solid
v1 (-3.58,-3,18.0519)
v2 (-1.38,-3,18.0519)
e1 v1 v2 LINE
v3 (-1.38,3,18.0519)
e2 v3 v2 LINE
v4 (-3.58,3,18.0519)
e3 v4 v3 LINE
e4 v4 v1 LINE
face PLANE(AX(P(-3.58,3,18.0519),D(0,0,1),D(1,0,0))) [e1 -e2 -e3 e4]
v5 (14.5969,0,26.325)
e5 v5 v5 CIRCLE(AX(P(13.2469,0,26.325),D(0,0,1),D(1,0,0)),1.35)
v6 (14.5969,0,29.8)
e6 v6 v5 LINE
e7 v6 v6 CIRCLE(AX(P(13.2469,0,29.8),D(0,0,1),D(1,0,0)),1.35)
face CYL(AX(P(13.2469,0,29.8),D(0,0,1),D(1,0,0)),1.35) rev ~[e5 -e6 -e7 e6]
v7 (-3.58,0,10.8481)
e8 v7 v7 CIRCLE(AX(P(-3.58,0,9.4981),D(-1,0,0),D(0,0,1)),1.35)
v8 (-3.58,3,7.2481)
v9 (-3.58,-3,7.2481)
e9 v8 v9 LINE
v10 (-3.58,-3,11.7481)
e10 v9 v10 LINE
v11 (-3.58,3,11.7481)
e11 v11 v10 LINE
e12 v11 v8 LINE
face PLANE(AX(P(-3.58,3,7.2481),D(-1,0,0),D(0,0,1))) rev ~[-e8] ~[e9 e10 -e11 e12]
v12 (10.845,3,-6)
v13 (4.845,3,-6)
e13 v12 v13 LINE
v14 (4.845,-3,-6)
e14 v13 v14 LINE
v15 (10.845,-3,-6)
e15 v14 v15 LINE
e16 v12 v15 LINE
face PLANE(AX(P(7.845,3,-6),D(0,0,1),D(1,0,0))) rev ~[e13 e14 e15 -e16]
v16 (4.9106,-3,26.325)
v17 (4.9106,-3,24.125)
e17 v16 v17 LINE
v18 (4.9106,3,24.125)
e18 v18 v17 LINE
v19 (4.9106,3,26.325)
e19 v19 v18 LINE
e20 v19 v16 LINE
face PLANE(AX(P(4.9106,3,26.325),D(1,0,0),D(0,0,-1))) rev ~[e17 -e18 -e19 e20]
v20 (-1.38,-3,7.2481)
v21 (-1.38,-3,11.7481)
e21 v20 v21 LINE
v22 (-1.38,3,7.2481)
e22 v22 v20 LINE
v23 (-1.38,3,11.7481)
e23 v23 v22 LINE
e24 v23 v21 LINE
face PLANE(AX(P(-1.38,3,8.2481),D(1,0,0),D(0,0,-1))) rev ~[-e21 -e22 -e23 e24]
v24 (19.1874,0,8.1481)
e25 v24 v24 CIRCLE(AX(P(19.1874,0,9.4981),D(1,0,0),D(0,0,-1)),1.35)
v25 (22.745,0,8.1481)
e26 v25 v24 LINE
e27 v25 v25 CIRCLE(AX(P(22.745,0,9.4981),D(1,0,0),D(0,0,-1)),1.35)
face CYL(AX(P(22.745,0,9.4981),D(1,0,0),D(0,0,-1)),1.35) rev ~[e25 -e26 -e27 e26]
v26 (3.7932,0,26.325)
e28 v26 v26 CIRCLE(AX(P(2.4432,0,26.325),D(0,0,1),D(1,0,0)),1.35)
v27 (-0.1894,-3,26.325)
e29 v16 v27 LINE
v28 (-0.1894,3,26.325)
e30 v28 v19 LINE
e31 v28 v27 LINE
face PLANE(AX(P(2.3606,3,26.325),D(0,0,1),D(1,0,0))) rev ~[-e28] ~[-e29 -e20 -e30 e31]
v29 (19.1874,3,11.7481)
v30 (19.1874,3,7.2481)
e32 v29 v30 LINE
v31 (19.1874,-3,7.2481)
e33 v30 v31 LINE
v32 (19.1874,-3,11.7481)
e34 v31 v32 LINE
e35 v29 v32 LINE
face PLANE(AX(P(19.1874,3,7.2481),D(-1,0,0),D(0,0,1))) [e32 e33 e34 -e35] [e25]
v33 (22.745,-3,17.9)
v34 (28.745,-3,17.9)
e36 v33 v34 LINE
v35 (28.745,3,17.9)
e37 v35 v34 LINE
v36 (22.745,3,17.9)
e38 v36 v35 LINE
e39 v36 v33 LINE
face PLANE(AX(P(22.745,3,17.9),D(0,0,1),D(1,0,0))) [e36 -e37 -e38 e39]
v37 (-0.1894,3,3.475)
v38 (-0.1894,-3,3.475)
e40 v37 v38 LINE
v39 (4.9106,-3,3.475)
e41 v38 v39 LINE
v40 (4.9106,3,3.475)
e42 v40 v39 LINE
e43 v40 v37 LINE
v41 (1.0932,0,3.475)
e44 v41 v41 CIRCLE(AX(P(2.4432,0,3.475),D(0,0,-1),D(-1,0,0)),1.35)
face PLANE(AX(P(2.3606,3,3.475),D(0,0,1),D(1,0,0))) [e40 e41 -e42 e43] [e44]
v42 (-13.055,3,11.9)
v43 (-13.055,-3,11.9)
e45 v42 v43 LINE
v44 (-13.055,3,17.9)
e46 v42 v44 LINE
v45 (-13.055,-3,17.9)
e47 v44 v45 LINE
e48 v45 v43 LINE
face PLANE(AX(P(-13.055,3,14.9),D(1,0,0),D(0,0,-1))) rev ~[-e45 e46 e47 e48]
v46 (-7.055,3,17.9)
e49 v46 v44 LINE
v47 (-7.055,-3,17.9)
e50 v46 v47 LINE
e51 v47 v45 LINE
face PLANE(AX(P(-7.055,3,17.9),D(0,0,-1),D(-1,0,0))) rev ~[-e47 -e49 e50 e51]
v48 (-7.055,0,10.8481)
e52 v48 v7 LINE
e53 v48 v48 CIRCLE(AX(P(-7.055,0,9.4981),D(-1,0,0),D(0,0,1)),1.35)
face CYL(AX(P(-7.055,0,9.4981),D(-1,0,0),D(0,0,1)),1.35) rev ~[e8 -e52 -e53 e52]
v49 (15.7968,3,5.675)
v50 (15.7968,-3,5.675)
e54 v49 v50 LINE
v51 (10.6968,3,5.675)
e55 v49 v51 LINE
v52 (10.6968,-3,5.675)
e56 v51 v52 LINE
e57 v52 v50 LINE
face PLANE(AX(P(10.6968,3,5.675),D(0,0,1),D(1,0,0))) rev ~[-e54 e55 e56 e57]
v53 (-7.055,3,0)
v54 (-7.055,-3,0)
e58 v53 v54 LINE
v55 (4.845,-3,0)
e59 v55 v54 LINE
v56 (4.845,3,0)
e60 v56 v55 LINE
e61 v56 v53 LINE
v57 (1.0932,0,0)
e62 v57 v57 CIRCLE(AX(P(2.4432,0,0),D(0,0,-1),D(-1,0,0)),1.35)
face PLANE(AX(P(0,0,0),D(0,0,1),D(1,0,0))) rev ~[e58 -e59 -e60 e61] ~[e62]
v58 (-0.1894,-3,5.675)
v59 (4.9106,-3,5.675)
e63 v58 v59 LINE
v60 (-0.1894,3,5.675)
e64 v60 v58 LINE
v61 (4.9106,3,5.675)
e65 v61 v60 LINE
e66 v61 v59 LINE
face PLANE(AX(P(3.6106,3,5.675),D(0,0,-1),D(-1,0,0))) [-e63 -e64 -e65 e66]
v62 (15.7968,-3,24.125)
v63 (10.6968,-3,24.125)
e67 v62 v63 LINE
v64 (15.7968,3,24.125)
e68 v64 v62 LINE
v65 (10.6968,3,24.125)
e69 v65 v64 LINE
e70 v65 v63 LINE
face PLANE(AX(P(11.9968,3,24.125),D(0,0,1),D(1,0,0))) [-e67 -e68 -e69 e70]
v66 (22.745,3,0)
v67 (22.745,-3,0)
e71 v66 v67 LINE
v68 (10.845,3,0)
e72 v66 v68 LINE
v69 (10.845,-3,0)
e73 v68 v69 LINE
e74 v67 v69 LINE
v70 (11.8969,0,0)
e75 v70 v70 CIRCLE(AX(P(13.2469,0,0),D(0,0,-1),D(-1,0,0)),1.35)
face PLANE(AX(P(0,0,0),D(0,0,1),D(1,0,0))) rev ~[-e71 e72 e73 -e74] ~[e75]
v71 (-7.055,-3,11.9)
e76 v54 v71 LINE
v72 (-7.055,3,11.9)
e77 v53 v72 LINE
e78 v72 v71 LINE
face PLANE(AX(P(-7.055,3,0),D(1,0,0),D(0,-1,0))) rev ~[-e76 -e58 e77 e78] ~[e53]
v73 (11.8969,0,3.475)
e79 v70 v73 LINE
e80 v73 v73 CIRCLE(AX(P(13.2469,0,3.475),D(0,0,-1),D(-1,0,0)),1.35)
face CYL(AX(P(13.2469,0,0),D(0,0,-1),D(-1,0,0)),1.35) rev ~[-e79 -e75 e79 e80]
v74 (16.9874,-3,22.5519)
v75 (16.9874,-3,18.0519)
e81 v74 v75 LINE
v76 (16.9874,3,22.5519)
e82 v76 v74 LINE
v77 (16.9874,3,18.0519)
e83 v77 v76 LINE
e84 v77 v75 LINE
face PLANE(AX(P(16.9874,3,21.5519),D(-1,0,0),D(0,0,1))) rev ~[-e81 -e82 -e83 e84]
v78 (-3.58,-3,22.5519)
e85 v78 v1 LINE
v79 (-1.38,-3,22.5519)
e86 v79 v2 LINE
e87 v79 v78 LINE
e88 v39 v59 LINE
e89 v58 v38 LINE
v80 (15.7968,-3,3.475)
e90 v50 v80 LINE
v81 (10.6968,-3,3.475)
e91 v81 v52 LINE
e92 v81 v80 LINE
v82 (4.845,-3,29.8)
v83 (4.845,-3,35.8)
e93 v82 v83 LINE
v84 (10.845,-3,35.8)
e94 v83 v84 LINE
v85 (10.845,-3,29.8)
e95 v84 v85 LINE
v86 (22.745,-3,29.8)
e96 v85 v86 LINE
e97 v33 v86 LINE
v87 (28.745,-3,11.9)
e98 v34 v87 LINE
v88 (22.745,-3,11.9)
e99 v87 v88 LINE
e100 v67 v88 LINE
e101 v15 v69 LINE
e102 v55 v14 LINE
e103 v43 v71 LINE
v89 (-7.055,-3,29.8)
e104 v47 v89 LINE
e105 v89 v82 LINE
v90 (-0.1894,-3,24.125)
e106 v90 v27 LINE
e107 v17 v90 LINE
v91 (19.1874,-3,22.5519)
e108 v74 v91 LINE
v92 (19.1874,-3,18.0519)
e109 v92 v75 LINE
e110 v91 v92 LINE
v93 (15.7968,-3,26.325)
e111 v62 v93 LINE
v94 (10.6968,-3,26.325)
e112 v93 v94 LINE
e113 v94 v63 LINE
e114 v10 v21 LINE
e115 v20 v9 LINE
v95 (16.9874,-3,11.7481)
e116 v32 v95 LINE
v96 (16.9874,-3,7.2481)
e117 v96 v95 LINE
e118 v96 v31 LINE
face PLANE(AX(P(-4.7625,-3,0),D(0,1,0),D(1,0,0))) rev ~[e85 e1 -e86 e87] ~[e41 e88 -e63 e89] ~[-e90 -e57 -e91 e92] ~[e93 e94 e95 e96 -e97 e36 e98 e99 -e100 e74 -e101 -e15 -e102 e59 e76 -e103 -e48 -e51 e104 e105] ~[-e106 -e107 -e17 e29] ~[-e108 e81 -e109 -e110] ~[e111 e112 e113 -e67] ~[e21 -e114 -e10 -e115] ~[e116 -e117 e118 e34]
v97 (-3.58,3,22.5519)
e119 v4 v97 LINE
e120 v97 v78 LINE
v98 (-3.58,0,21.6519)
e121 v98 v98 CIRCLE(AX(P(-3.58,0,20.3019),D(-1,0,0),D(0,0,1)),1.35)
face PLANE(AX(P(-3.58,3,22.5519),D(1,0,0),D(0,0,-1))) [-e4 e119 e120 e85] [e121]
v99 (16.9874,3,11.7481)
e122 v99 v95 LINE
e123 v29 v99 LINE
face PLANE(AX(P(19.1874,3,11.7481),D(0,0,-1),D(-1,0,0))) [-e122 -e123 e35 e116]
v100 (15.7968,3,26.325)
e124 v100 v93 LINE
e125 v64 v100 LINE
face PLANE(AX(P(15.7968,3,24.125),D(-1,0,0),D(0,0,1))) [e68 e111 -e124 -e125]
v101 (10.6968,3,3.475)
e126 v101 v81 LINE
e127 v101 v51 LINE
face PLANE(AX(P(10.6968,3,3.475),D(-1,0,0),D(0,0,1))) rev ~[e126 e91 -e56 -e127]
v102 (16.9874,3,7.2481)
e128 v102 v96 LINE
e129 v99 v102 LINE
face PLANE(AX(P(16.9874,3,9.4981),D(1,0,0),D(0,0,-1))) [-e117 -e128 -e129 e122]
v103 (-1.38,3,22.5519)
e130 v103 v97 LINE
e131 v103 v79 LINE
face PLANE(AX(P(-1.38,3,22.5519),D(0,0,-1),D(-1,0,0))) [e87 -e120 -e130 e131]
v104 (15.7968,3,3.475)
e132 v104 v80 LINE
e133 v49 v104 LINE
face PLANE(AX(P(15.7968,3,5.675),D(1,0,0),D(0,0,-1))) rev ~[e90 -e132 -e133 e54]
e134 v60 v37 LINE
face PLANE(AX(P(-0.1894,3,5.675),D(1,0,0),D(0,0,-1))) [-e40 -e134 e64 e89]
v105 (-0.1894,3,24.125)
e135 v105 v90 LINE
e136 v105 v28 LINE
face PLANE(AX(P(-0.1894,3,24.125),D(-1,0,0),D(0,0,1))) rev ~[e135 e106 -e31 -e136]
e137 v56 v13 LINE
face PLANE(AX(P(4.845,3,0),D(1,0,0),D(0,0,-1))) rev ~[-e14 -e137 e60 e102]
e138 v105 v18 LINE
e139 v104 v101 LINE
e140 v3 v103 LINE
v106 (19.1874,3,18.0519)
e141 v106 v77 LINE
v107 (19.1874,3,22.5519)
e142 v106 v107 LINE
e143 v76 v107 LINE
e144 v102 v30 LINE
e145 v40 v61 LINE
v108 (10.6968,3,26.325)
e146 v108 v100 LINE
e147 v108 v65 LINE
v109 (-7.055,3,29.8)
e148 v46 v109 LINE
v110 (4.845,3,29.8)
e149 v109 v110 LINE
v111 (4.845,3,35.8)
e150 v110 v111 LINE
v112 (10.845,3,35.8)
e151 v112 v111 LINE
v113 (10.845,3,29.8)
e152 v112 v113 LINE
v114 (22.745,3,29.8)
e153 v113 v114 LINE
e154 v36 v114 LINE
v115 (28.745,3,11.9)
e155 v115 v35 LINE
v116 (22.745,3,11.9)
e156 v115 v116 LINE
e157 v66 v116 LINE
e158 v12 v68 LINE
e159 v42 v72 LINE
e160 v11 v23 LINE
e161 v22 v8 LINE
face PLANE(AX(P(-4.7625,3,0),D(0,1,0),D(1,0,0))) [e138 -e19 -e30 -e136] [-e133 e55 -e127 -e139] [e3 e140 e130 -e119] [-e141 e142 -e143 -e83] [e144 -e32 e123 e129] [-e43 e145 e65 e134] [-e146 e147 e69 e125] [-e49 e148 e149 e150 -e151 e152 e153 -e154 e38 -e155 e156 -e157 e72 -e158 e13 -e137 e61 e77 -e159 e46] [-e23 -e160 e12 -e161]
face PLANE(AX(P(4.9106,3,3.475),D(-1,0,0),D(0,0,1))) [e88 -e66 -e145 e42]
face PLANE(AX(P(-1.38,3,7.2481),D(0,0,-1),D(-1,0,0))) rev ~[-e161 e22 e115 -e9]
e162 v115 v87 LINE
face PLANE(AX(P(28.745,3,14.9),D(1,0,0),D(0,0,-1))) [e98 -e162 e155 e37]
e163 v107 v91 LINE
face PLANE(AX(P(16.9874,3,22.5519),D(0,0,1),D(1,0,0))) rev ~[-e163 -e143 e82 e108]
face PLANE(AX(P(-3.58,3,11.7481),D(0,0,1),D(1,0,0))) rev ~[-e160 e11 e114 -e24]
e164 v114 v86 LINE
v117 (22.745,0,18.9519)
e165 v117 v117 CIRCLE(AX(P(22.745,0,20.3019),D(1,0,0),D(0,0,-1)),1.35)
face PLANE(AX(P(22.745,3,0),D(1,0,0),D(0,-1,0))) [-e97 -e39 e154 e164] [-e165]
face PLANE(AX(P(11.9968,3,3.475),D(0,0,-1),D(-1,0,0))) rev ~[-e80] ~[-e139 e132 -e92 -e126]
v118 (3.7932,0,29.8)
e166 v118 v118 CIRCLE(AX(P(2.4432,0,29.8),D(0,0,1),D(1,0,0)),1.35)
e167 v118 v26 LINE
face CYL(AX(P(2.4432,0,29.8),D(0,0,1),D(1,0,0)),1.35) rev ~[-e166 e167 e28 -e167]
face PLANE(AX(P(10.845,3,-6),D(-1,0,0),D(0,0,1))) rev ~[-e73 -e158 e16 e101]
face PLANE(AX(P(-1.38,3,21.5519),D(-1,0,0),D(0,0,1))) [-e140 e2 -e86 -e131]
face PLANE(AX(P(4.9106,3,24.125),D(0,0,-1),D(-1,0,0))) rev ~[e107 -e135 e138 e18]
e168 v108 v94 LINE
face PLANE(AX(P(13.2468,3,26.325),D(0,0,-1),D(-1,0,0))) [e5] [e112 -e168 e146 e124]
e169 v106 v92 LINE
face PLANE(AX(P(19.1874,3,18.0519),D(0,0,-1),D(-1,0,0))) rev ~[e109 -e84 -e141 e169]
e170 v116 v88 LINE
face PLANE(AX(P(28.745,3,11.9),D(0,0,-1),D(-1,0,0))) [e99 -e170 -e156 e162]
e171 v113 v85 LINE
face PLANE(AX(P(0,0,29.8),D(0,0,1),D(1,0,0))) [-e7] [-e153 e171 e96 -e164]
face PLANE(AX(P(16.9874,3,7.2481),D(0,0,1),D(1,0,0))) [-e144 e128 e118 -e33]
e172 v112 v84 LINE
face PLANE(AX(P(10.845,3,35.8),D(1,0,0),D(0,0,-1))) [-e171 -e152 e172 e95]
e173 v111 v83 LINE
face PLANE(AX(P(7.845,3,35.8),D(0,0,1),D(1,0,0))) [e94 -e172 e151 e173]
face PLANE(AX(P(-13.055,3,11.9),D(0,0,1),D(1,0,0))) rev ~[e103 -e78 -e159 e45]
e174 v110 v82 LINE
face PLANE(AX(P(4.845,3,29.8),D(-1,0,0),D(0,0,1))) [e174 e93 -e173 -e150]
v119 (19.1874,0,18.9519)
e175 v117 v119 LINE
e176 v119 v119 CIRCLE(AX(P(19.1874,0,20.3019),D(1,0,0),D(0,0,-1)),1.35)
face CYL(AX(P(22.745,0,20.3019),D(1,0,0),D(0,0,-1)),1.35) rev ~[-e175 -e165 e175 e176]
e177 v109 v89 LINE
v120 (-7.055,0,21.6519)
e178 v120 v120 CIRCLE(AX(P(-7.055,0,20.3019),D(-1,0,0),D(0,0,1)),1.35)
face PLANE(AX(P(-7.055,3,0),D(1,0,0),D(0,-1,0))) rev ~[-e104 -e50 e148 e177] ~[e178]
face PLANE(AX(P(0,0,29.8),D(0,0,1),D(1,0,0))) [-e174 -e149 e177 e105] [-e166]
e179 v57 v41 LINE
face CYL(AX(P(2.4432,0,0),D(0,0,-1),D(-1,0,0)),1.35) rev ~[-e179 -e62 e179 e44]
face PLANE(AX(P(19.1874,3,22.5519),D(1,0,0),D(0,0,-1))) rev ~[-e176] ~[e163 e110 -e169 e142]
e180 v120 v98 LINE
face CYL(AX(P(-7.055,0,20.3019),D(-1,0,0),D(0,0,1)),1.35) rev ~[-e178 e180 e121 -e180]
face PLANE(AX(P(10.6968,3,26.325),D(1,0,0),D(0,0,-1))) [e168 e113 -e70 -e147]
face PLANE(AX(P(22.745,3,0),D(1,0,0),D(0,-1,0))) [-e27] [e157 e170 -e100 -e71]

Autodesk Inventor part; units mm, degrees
ref_plane "YZ Plane" through (0, 0, 0) normal (1, 0, 0) x (0, 1, 0)
ref_plane "XZ Plane" through (0, 0, 0) normal (0, 1, 0) x (-1, 0, 0)
sketch "스케치1" plane through (0, 0, 0) normal (0, 0, 1) x (1, 0, 0)
  arc A0 (-4.555, 20.4) -> (-1.5118, 17.2038) centre (-1.355, 20.4) ccw projected
  line L0 (-4.555, 20.4) -> (-4.555, 29.4) projected
  line L1 (-4.555, 29.4) -> (-9.955, 29.4) projected
  line L2 (-9.955, 29.4) -> (-9.955, 17.8) projected
  line L3 (-9.955, 17.8) -> (-4.855, 11.8) projected
  line L4 (-4.855, 11.8) -> (-4.7625, 11.8) projected
  line L5 (-4.7625, 11.8) -> (-4.7625, -3) projected
  line L6 (-4.7625, -3) -> (3.7037, -3) projected
  arc A1 (4.7037, -2) -> (3.7037, -3) centre (4.7037, -3) ccw projected
  line L7 (4.7037, -2) -> (4.7037, 2.1) projected
  arc A2 (5.6987, 3) -> (4.7037, 2.1) centre (4.7037, 3.1) ccw projected
  line L8 (5.6987, 3) -> (9.9088, 3) projected
  arc A3 (10.9037, 2.1) -> (9.9088, 3) centre (10.9037, 3.1) ccw projected
  line L9 (10.9037, 2.1) -> (10.9037, -2) projected
  arc A4 (11.9037, -3) -> (10.9037, -2) centre (10.9037, -3) ccw projected
  line L10 (11.9037, -3) -> (20.4525, -3) projected
  line L11 (20.4525, -3) -> (20.4525, 11.8) projected
  line L12 (20.4525, 11.8) -> (20.545, 11.8) projected
  line L13 (20.545, 11.8) -> (25.645, 17.8) projected
  line L14 (25.645, 17.8) -> (25.645, 29.4) projected
  line L15 (25.645, 29.4) -> (20.245, 29.4) projected
  line L16 (20.245, 29.4) -> (20.245, 20.4) projected
  arc A5 (17.2018, 17.2038) -> (20.245, 20.4) centre (17.045, 20.4) ccw projected
  line L17 (17.2018, 17.2038) -> (-1.5118, 17.2038) projected
  circle A6 centre (13.2469, 0) radius 1.35 projected
  circle A7 centre (2.4432, 0) radius 1.35 projected
  circle A8 centre (18.0506, 0) radius 1.35 projected
  circle A9 centre (-2.3606, 0) radius 1.35 projected
  circle A10 centre (-7.155, 20.9) radius 1.35 projected
  circle A11 centre (-0.655, 14.6) radius 1.35 projected
  circle A12 centre (16.345, 14.6) radius 1.35 projected
  circle A13 centre (22.845, 20.9) radius 1.35 projected
  line L18 (20.4525, -3) -> (-4.855, -3)
  line L19 (-4.855, -3) -> (-4.855, 3)
  line L20 (-4.855, 3) -> (20.4525, 3)
  line L21 (20.4525, 3) -> (20.4525, -3)
  line L22 (22.845, 3) -> (22.845, -11.8) projected
  line L23 (-7.155, 3) -> (-7.155, -11.8) projected
  line L24 (22.745, 3) -> (22.745, -11.8)
  line L25 (-7.055, 3) -> (-7.055, -11.8)
  line L26 (22.745, -3) -> (-7.055, -3)
  line L27 (-7.055, -3) -> (-7.055, 3)
  line L28 (-7.055, 3) -> (22.745, 3)
  line L29 (22.745, 3) -> (22.745, -3)
  point P0 (0, 0)
  point P1 (11.8625, -3)
  point P2 (20.4525, 3)
  point P3 (9.8675, 3)
  point P4 (5.6574, 3)
  point P5 (-4.7625, 3)
  point P6 (3.6625, -3)
  point P7 (-4.855, 3)
  point P8 (-7.055, -3)
  point P9 (-4.855, -3)
  point P10 (-4.7625, -3)
  point P11 (22.745, 1.2049)
  point P12 (20.4525, 3)
  point P13 (20.4525, -3)
  point P14 (11.8987, 3)
  point P15 (3.7037, -3)
  point P16 (11.9037, -3)
  point P17 (5.6987, 3)
  point P18 (3.7088, 3)
  point P19 (5.6987, 3)
  point P20 (11.9037, -3)
  point P21 (-4.7625, 3)
  point P22 (-4.855, -3)
  point P23 (10.9037, -1.792)
  point P24 (-4.7625, -3)
  point P25 (4.7037, -1.792)
  dimension "d7" = 0.1
  dimension "d8" = 0.1
extrude "돌출1" add sketch "스케치1" along normal blind 29.8 contours L20 A2 L7 A1 L6 L5 | L5 L18 L19 L20 | L19 L26 L25 L28 | L20 L8 A3 L9 A4 L18 A1 L7 A2 | L28 L24 L26 L11 | L11 L10 A4 L9 A3 L20 | A6 | A7 | A8 | A9
ref_plane "작업 평면4" through (10.8037, 3, 0) normal (0, 1, 0) x (1, 0, 0)
sketch "스케치5" plane through (10.8037, 3, 0) normal (0, 1, 0) x (1, 0, 0)
  line L0 (1.1931, -3.675) -> (1.1931, 6)
  line L1 (3.6931, -3.675) -> (3.6931, 6)
  line L2 (1.1931, -5.675) -> (3.6931, -5.675)
  line L3 (2.4431, 0) -> (2.4431, -3.675)
  line L4 (2.4431, -5.675) -> (2.4431, -4.575)
  line L5 (2.4431, -4.575) -> (2.4431, -3.475)
  line L6 (2.4431, -3.475) -> (-0.1069, -3.475)
  line L7 (2.4431, -3.475) -> (4.9931, -3.475)
  line L8 (4.9931, -3.475) -> (-0.1069, -3.475)
  line L9 (-0.1069, -3.475) -> (-0.1069, -5.675)
  line L10 (-0.1069, -5.675) -> (4.9931, -5.675)
  line L11 (4.9931, -5.675) -> (4.9931, -3.475)
  line L12 (1.1931, -5.675) -> (1.1931, 6)
  line L13 (3.6931, -5.675) -> (3.6931, 6)
  line L14 (1.1931, -5.675) -> (3.6931, -5.675)
  line L15 (2.4431, -3.675) -> (2.4431, -5.675)
  line L16 (-23.9, -14.9) -> (17.9, -14.9)
  line L17 (1.1931, -24.125) -> (3.6931, -24.125)
  line L18 (2.4431, -24.125) -> (2.4431, -25.225)
  line L19 (2.4431, -25.225) -> (2.4431, -26.325)
  line L20 (2.4431, -26.325) -> (-0.1069, -26.325)
  line L21 (2.4431, -26.325) -> (4.9931, -26.325)
  line L22 (4.9931, -26.325) -> (-0.1069, -26.325)
  line L23 (-0.1069, -26.325) -> (-0.1069, -24.125)
  line L24 (-0.1069, -24.125) -> (4.9931, -24.125)
  line L25 (4.9931, -24.125) -> (4.9931, -26.325)
  line L26 (1.1931, -24.125) -> (3.6931, -24.125)
  line L27 (2.4431, -26.125) -> (2.4431, -24.125)
  line L28 (-3, -14.9) -> (-3, -22)
  line L29 (-7.1931, -5.675) -> (-9.6931, -5.675)
  line L30 (-8.4431, -5.675) -> (-8.4431, -4.575)
  line L31 (-8.4431, -4.575) -> (-8.4431, -3.475)
  line L32 (-8.4431, -3.475) -> (-5.8931, -3.475)
  line L33 (-8.4431, -3.475) -> (-10.9931, -3.475)
  line L34 (-10.9931, -3.475) -> (-5.8931, -3.475)
  line L35 (-5.8931, -3.475) -> (-5.8931, -5.675)
  line L36 (-5.8931, -5.675) -> (-10.9931, -5.675)
  line L37 (-10.9931, -5.675) -> (-10.9931, -3.475)
  line L38 (-7.1931, -5.675) -> (-9.6931, -5.675)
  line L39 (-8.4431, -3.675) -> (-8.4431, -5.675)
  line L40 (-7.1931, -24.125) -> (-9.6931, -24.125)
  line L41 (-8.4431, -24.125) -> (-8.4431, -25.225)
  line L42 (-8.4431, -25.225) -> (-8.4431, -26.325)
  line L43 (-7.1931, -24.125) -> (-9.6931, -24.125)
  line L44 (-8.4431, -26.125) -> (-8.4431, -24.125)
  line L45 (-8.4431, -26.325) -> (-10.9931, -26.325)
  line L46 (-10.9931, -24.125) -> (-10.9931, -26.325)
  line L47 (-8.4431, -26.325) -> (-5.8931, -26.325)
  line L48 (-5.8931, -26.325) -> (-5.8931, -24.125)
  line L49 (-10.9931, -26.325) -> (-5.8931, -26.325)
  line L50 (-5.8931, -24.125) -> (-10.9931, -24.125)
  line L51 (-12.1837, -21.5519) -> (-23.8587, -21.5519)
  line L52 (-12.1837, -19.0519) -> (-23.8587, -19.0519)
  line L53 (-12.1837, -19.0519) -> (-12.1837, -21.5519)
  line L54 (-12.1837, -19.0519) -> (-14.3837, -19.0519)
  line L55 (-12.1837, -20.3019) -> (-12.1837, -18.0519)
  line L56 (-12.1837, -20.3019) -> (-12.1837, -22.5519)
  line L57 (-14.3837, -18.0519) -> (-12.1837, -18.0519)
  line L58 (-12.1837, -18.0519) -> (-12.1837, -22.5519)
  line L59 (-12.1837, -22.5519) -> (-14.3837, -22.5519)
  line L60 (-14.3837, -22.5519) -> (-14.3837, -18.0519)
  line L61 (-12.1837, -10.7481) -> (-12.1837, -8.2481)
  line L62 (-12.1837, -10.7481) -> (-14.3837, -10.7481)
  line L63 (-12.1837, -9.4981) -> (-12.1837, -11.7481)
  line L64 (-12.1837, -9.4981) -> (-12.1837, -7.2481)
  line L65 (-14.3837, -11.7481) -> (-12.1837, -11.7481)
  line L66 (-12.1837, -11.7481) -> (-12.1837, -7.2481)
  line L67 (-12.1837, -7.2481) -> (-14.3837, -7.2481)
  line L68 (-14.3837, -7.2481) -> (-14.3837, -11.7481)
  line L69 (6.1837, -19.0519) -> (6.1837, -21.5519)
  line L70 (6.1837, -19.0519) -> (8.3837, -19.0519)
  line L71 (6.1837, -20.3019) -> (6.1837, -18.0519)
  line L72 (6.1837, -20.3019) -> (6.1837, -22.5519)
  line L73 (8.3837, -18.0519) -> (6.1837, -18.0519)
  line L74 (6.1837, -18.0519) -> (6.1837, -22.5519)
  line L75 (6.1837, -22.5519) -> (8.3837, -22.5519)
  line L76 (8.3837, -22.5519) -> (8.3837, -18.0519)
  line L77 (6.1837, -9.4981) -> (6.1837, -7.2481)
  line L78 (6.1837, -7.2481) -> (8.3837, -7.2481)
  line L79 (6.1837, -10.7481) -> (6.1837, -8.2481)
  line L80 (6.1837, -9.4981) -> (6.1837, -11.7481)
  line L81 (6.1837, -10.7481) -> (8.3837, -10.7481)
  line L82 (8.3837, -11.7481) -> (6.1837, -11.7481)
  line L83 (8.3837, -7.2481) -> (8.3837, -11.7481)
  line L84 (6.1837, -11.7481) -> (6.1837, -7.2481)
  point P0 (-0.1069, -3.475)
  point P1 (1.1931, -26.125)
  point P2 (3.6931, -26.125)
  point P3 (-7.1931, -3.675)
  point P4 (-9.6931, -3.675)
  point P5 (-7.1931, -26.125)
  point P6 (-9.6931, -26.125)
  point P7 (-0.1069, -26.325)
  point P8 (3.6931, -24.125)
  point P9 (1.1931, -24.125)
  dimension "d24" = 1.1
  dimension "d25" = 1.1
  dimension "d26" = 2.55
  dimension "d27" = 2.55
  dimension "d28" = 2.2
  dimension "d29" = 2.25
  dimension "d30" = 2.25
extrude "돌출4" cut sketch "스케치5" against normal blind 6
sketch "스케치6" plane through (-7.055, -3, 29.8) normal (-1, 0, 0) x (0, 0, 1)
  circle A0 centre (-9.4981, 3) radius 1.35 projected
  circle A1 centre (-20.3019, 3) radius 1.35 projected
  point P0 (-29.8, 3)
extrude "돌출5" cut sketch "스케치6" against normal up to next
sketch "스케치7" plane through (0, 0, 0) normal (0, 0, -1) x (-1, 0, 0)
  circle A0 centre (-13.2469, 0) radius 1.35 projected
  circle A1 centre (-2.4432, 0) radius 1.35 projected
  point P0 (0, 0)
extrude "돌출6" cut sketch "스케치7" against normal up to next
sketch "스케치8" plane through (22.745, -3, 0) normal (1, 0, 0) x (0, 0, -1)
  circle A0 centre (-20.3019, 3) radius 1.35 projected
  circle A1 centre (-9.4981, 3) radius 1.35 projected
  point P0 (0, 3)
extrude "돌출7" cut sketch "스케치8" against normal up to next
sketch "스케치9" plane through (0, 0, 29.8) normal (0, 0, 1) x (1, 0, 0)
  circle A0 centre (2.4432, 0) radius 1.35 projected
  circle A1 centre (13.2469, 0) radius 1.35 projected
  point P0 (0, 0)
extrude "돌출8" cut sketch "스케치9" against normal up to next
sketch "스케치10" plane through (-7.055, 3, 0) normal (0, 1, 0) x (1, 0, 0)
  line L0 (24.0424, -18.0519) -> (26.2424, -18.0519) projected
  line L1 (26.2424, -18.0519) -> (26.2424, -22.5519) projected
  line L2 (26.2424, -22.5519) -> (24.0424, -22.5519) projected
  line L3 (24.0424, -22.5519) -> (24.0424, -18.0519) projected
  line L4 (11.9656, -3.475) -> (11.9656, -5.675) projected
  line L5 (11.9656, -5.675) -> (6.8656, -5.675) projected
  line L6 (6.8656, -5.675) -> (6.8656, -3.475) projected
  line L7 (6.8656, -3.475) -> (11.9656, -3.475) projected
  line L8 (11.9656, -24.125) -> (11.9656, -26.325) projected
  line L9 (11.9656, -26.325) -> (6.8656, -26.325) projected
  line L10 (6.8656, -26.325) -> (6.8656, -24.125) projected
  line L11 (6.8656, -24.125) -> (11.9656, -24.125) projected
  line L12 (3.475, -7.2481) -> (5.675, -7.2481) projected
  line L13 (5.675, -7.2481) -> (5.675, -11.7481) projected
  line L14 (5.675, -11.7481) -> (3.475, -11.7481) projected
  line L15 (3.475, -11.7481) -> (3.475, -7.2481) projected
  line L16 (26.2424, -11.7481) -> (24.0424, -11.7481) projected
  line L17 (24.0424, -11.7481) -> (24.0424, -7.2481) projected
  line L18 (24.0424, -7.2481) -> (26.2424, -7.2481) projected
  line L19 (26.2424, -7.2481) -> (26.2424, -11.7481) projected
  line L20 (22.8519, -3.475) -> (22.8519, -5.675) projected
  line L21 (22.8519, -5.675) -> (17.7519, -5.675) projected
  line L22 (17.7519, -5.675) -> (17.7519, -3.475) projected
  line L23 (17.7519, -3.475) -> (22.8519, -3.475) projected
  line L24 (22.8519, -24.125) -> (22.8519, -26.325) projected
  line L25 (22.8519, -26.325) -> (17.7519, -26.325) projected
  line L26 (17.7519, -26.325) -> (17.7519, -24.125) projected
  line L27 (17.7519, -24.125) -> (22.8519, -24.125) projected
  line L28 (3.475, -18.0519) -> (5.675, -18.0519) projected
  line L29 (5.675, -18.0519) -> (5.675, -22.5519) projected
  line L30 (5.675, -22.5519) -> (3.475, -22.5519) projected
  line L31 (3.475, -22.5519) -> (3.475, -18.0519) projected
  line L32 (29.8, 0) -> (0, 0) projected
  line L33 (0, 0) -> (0, -29.8) projected
  line L34 (29.8, -29.8) -> (0, -29.8) projected
  line L35 (29.8, 0) -> (29.8, -29.8) projected
  line L36 (0, -14.9) -> (-6, -14.9)
  line L37 (-6, -14.9) -> (-6, -11.9)
  line L38 (-6, -11.9) -> (0, -11.9)
  line L39 (0, -11.9) -> (0, -17.9)
  line L40 (0, -17.9) -> (-6, -17.9)
  line L41 (-6, -17.9) -> (-6, -11.9)
  line L42 (14.9, 0) -> (14.9, -2)
  line L43 (29.8, -14.9) -> (35.8, -14.9)
  line L44 (35.8, -14.9) -> (35.8, -11.9)
  line L45 (35.8, -11.9) -> (29.8, -11.9)
  line L46 (29.8, -11.9) -> (29.8, -17.9)
  line L47 (29.8, -17.9) -> (35.8, -17.9)
  line L48 (35.8, -17.9) -> (35.8, -11.9)
  line L49 (14.9, 0) -> (14.9, 3)
  line L50 (14.9, 3) -> (14.9, 6)
  line L51 (14.9, 6) -> (11.9, 6)
  line L52 (11.9, 6) -> (17.9, 6)
  line L53 (17.9, 6) -> (17.9, 0)
  line L54 (17.9, 0) -> (11.9, 0)
  line L55 (11.9, 0) -> (11.9, 6)
  line L56 (14.9, -29.8) -> (14.9, -32.8)
  line L57 (14.9, -32.8) -> (14.9, -35.8)
  line L58 (14.9, -35.8) -> (11.9, -35.8)
  line L59 (11.9, -35.8) -> (17.9, -35.8)
  line L60 (17.9, -35.8) -> (17.9, -29.8)
  line L61 (17.9, -29.8) -> (11.9, -29.8)
  line L62 (11.9, -29.8) -> (11.9, -35.8)
  point P0 (7.055, 0)
  point P1 (0, -11.9)
  dimension "d39" = 3
  dimension "d40" = 6
  dimension "d41" = 3
  dimension "d42" = 6
extrude "돌출9" add sketch "스케치10" against normal blind 6 contours L32 L49 L50 L52 L53 | L45 L44 L43 L35 | L32 L55 L51 L50 L49 | L43 L48 L47 L35 | L33 L36 L37 L38 | L60 L59 L57 L56 L34 | L33 L40 L41 L36 | L56 L57 L58 L62 L34
properties part number "arm_motor_connect"
